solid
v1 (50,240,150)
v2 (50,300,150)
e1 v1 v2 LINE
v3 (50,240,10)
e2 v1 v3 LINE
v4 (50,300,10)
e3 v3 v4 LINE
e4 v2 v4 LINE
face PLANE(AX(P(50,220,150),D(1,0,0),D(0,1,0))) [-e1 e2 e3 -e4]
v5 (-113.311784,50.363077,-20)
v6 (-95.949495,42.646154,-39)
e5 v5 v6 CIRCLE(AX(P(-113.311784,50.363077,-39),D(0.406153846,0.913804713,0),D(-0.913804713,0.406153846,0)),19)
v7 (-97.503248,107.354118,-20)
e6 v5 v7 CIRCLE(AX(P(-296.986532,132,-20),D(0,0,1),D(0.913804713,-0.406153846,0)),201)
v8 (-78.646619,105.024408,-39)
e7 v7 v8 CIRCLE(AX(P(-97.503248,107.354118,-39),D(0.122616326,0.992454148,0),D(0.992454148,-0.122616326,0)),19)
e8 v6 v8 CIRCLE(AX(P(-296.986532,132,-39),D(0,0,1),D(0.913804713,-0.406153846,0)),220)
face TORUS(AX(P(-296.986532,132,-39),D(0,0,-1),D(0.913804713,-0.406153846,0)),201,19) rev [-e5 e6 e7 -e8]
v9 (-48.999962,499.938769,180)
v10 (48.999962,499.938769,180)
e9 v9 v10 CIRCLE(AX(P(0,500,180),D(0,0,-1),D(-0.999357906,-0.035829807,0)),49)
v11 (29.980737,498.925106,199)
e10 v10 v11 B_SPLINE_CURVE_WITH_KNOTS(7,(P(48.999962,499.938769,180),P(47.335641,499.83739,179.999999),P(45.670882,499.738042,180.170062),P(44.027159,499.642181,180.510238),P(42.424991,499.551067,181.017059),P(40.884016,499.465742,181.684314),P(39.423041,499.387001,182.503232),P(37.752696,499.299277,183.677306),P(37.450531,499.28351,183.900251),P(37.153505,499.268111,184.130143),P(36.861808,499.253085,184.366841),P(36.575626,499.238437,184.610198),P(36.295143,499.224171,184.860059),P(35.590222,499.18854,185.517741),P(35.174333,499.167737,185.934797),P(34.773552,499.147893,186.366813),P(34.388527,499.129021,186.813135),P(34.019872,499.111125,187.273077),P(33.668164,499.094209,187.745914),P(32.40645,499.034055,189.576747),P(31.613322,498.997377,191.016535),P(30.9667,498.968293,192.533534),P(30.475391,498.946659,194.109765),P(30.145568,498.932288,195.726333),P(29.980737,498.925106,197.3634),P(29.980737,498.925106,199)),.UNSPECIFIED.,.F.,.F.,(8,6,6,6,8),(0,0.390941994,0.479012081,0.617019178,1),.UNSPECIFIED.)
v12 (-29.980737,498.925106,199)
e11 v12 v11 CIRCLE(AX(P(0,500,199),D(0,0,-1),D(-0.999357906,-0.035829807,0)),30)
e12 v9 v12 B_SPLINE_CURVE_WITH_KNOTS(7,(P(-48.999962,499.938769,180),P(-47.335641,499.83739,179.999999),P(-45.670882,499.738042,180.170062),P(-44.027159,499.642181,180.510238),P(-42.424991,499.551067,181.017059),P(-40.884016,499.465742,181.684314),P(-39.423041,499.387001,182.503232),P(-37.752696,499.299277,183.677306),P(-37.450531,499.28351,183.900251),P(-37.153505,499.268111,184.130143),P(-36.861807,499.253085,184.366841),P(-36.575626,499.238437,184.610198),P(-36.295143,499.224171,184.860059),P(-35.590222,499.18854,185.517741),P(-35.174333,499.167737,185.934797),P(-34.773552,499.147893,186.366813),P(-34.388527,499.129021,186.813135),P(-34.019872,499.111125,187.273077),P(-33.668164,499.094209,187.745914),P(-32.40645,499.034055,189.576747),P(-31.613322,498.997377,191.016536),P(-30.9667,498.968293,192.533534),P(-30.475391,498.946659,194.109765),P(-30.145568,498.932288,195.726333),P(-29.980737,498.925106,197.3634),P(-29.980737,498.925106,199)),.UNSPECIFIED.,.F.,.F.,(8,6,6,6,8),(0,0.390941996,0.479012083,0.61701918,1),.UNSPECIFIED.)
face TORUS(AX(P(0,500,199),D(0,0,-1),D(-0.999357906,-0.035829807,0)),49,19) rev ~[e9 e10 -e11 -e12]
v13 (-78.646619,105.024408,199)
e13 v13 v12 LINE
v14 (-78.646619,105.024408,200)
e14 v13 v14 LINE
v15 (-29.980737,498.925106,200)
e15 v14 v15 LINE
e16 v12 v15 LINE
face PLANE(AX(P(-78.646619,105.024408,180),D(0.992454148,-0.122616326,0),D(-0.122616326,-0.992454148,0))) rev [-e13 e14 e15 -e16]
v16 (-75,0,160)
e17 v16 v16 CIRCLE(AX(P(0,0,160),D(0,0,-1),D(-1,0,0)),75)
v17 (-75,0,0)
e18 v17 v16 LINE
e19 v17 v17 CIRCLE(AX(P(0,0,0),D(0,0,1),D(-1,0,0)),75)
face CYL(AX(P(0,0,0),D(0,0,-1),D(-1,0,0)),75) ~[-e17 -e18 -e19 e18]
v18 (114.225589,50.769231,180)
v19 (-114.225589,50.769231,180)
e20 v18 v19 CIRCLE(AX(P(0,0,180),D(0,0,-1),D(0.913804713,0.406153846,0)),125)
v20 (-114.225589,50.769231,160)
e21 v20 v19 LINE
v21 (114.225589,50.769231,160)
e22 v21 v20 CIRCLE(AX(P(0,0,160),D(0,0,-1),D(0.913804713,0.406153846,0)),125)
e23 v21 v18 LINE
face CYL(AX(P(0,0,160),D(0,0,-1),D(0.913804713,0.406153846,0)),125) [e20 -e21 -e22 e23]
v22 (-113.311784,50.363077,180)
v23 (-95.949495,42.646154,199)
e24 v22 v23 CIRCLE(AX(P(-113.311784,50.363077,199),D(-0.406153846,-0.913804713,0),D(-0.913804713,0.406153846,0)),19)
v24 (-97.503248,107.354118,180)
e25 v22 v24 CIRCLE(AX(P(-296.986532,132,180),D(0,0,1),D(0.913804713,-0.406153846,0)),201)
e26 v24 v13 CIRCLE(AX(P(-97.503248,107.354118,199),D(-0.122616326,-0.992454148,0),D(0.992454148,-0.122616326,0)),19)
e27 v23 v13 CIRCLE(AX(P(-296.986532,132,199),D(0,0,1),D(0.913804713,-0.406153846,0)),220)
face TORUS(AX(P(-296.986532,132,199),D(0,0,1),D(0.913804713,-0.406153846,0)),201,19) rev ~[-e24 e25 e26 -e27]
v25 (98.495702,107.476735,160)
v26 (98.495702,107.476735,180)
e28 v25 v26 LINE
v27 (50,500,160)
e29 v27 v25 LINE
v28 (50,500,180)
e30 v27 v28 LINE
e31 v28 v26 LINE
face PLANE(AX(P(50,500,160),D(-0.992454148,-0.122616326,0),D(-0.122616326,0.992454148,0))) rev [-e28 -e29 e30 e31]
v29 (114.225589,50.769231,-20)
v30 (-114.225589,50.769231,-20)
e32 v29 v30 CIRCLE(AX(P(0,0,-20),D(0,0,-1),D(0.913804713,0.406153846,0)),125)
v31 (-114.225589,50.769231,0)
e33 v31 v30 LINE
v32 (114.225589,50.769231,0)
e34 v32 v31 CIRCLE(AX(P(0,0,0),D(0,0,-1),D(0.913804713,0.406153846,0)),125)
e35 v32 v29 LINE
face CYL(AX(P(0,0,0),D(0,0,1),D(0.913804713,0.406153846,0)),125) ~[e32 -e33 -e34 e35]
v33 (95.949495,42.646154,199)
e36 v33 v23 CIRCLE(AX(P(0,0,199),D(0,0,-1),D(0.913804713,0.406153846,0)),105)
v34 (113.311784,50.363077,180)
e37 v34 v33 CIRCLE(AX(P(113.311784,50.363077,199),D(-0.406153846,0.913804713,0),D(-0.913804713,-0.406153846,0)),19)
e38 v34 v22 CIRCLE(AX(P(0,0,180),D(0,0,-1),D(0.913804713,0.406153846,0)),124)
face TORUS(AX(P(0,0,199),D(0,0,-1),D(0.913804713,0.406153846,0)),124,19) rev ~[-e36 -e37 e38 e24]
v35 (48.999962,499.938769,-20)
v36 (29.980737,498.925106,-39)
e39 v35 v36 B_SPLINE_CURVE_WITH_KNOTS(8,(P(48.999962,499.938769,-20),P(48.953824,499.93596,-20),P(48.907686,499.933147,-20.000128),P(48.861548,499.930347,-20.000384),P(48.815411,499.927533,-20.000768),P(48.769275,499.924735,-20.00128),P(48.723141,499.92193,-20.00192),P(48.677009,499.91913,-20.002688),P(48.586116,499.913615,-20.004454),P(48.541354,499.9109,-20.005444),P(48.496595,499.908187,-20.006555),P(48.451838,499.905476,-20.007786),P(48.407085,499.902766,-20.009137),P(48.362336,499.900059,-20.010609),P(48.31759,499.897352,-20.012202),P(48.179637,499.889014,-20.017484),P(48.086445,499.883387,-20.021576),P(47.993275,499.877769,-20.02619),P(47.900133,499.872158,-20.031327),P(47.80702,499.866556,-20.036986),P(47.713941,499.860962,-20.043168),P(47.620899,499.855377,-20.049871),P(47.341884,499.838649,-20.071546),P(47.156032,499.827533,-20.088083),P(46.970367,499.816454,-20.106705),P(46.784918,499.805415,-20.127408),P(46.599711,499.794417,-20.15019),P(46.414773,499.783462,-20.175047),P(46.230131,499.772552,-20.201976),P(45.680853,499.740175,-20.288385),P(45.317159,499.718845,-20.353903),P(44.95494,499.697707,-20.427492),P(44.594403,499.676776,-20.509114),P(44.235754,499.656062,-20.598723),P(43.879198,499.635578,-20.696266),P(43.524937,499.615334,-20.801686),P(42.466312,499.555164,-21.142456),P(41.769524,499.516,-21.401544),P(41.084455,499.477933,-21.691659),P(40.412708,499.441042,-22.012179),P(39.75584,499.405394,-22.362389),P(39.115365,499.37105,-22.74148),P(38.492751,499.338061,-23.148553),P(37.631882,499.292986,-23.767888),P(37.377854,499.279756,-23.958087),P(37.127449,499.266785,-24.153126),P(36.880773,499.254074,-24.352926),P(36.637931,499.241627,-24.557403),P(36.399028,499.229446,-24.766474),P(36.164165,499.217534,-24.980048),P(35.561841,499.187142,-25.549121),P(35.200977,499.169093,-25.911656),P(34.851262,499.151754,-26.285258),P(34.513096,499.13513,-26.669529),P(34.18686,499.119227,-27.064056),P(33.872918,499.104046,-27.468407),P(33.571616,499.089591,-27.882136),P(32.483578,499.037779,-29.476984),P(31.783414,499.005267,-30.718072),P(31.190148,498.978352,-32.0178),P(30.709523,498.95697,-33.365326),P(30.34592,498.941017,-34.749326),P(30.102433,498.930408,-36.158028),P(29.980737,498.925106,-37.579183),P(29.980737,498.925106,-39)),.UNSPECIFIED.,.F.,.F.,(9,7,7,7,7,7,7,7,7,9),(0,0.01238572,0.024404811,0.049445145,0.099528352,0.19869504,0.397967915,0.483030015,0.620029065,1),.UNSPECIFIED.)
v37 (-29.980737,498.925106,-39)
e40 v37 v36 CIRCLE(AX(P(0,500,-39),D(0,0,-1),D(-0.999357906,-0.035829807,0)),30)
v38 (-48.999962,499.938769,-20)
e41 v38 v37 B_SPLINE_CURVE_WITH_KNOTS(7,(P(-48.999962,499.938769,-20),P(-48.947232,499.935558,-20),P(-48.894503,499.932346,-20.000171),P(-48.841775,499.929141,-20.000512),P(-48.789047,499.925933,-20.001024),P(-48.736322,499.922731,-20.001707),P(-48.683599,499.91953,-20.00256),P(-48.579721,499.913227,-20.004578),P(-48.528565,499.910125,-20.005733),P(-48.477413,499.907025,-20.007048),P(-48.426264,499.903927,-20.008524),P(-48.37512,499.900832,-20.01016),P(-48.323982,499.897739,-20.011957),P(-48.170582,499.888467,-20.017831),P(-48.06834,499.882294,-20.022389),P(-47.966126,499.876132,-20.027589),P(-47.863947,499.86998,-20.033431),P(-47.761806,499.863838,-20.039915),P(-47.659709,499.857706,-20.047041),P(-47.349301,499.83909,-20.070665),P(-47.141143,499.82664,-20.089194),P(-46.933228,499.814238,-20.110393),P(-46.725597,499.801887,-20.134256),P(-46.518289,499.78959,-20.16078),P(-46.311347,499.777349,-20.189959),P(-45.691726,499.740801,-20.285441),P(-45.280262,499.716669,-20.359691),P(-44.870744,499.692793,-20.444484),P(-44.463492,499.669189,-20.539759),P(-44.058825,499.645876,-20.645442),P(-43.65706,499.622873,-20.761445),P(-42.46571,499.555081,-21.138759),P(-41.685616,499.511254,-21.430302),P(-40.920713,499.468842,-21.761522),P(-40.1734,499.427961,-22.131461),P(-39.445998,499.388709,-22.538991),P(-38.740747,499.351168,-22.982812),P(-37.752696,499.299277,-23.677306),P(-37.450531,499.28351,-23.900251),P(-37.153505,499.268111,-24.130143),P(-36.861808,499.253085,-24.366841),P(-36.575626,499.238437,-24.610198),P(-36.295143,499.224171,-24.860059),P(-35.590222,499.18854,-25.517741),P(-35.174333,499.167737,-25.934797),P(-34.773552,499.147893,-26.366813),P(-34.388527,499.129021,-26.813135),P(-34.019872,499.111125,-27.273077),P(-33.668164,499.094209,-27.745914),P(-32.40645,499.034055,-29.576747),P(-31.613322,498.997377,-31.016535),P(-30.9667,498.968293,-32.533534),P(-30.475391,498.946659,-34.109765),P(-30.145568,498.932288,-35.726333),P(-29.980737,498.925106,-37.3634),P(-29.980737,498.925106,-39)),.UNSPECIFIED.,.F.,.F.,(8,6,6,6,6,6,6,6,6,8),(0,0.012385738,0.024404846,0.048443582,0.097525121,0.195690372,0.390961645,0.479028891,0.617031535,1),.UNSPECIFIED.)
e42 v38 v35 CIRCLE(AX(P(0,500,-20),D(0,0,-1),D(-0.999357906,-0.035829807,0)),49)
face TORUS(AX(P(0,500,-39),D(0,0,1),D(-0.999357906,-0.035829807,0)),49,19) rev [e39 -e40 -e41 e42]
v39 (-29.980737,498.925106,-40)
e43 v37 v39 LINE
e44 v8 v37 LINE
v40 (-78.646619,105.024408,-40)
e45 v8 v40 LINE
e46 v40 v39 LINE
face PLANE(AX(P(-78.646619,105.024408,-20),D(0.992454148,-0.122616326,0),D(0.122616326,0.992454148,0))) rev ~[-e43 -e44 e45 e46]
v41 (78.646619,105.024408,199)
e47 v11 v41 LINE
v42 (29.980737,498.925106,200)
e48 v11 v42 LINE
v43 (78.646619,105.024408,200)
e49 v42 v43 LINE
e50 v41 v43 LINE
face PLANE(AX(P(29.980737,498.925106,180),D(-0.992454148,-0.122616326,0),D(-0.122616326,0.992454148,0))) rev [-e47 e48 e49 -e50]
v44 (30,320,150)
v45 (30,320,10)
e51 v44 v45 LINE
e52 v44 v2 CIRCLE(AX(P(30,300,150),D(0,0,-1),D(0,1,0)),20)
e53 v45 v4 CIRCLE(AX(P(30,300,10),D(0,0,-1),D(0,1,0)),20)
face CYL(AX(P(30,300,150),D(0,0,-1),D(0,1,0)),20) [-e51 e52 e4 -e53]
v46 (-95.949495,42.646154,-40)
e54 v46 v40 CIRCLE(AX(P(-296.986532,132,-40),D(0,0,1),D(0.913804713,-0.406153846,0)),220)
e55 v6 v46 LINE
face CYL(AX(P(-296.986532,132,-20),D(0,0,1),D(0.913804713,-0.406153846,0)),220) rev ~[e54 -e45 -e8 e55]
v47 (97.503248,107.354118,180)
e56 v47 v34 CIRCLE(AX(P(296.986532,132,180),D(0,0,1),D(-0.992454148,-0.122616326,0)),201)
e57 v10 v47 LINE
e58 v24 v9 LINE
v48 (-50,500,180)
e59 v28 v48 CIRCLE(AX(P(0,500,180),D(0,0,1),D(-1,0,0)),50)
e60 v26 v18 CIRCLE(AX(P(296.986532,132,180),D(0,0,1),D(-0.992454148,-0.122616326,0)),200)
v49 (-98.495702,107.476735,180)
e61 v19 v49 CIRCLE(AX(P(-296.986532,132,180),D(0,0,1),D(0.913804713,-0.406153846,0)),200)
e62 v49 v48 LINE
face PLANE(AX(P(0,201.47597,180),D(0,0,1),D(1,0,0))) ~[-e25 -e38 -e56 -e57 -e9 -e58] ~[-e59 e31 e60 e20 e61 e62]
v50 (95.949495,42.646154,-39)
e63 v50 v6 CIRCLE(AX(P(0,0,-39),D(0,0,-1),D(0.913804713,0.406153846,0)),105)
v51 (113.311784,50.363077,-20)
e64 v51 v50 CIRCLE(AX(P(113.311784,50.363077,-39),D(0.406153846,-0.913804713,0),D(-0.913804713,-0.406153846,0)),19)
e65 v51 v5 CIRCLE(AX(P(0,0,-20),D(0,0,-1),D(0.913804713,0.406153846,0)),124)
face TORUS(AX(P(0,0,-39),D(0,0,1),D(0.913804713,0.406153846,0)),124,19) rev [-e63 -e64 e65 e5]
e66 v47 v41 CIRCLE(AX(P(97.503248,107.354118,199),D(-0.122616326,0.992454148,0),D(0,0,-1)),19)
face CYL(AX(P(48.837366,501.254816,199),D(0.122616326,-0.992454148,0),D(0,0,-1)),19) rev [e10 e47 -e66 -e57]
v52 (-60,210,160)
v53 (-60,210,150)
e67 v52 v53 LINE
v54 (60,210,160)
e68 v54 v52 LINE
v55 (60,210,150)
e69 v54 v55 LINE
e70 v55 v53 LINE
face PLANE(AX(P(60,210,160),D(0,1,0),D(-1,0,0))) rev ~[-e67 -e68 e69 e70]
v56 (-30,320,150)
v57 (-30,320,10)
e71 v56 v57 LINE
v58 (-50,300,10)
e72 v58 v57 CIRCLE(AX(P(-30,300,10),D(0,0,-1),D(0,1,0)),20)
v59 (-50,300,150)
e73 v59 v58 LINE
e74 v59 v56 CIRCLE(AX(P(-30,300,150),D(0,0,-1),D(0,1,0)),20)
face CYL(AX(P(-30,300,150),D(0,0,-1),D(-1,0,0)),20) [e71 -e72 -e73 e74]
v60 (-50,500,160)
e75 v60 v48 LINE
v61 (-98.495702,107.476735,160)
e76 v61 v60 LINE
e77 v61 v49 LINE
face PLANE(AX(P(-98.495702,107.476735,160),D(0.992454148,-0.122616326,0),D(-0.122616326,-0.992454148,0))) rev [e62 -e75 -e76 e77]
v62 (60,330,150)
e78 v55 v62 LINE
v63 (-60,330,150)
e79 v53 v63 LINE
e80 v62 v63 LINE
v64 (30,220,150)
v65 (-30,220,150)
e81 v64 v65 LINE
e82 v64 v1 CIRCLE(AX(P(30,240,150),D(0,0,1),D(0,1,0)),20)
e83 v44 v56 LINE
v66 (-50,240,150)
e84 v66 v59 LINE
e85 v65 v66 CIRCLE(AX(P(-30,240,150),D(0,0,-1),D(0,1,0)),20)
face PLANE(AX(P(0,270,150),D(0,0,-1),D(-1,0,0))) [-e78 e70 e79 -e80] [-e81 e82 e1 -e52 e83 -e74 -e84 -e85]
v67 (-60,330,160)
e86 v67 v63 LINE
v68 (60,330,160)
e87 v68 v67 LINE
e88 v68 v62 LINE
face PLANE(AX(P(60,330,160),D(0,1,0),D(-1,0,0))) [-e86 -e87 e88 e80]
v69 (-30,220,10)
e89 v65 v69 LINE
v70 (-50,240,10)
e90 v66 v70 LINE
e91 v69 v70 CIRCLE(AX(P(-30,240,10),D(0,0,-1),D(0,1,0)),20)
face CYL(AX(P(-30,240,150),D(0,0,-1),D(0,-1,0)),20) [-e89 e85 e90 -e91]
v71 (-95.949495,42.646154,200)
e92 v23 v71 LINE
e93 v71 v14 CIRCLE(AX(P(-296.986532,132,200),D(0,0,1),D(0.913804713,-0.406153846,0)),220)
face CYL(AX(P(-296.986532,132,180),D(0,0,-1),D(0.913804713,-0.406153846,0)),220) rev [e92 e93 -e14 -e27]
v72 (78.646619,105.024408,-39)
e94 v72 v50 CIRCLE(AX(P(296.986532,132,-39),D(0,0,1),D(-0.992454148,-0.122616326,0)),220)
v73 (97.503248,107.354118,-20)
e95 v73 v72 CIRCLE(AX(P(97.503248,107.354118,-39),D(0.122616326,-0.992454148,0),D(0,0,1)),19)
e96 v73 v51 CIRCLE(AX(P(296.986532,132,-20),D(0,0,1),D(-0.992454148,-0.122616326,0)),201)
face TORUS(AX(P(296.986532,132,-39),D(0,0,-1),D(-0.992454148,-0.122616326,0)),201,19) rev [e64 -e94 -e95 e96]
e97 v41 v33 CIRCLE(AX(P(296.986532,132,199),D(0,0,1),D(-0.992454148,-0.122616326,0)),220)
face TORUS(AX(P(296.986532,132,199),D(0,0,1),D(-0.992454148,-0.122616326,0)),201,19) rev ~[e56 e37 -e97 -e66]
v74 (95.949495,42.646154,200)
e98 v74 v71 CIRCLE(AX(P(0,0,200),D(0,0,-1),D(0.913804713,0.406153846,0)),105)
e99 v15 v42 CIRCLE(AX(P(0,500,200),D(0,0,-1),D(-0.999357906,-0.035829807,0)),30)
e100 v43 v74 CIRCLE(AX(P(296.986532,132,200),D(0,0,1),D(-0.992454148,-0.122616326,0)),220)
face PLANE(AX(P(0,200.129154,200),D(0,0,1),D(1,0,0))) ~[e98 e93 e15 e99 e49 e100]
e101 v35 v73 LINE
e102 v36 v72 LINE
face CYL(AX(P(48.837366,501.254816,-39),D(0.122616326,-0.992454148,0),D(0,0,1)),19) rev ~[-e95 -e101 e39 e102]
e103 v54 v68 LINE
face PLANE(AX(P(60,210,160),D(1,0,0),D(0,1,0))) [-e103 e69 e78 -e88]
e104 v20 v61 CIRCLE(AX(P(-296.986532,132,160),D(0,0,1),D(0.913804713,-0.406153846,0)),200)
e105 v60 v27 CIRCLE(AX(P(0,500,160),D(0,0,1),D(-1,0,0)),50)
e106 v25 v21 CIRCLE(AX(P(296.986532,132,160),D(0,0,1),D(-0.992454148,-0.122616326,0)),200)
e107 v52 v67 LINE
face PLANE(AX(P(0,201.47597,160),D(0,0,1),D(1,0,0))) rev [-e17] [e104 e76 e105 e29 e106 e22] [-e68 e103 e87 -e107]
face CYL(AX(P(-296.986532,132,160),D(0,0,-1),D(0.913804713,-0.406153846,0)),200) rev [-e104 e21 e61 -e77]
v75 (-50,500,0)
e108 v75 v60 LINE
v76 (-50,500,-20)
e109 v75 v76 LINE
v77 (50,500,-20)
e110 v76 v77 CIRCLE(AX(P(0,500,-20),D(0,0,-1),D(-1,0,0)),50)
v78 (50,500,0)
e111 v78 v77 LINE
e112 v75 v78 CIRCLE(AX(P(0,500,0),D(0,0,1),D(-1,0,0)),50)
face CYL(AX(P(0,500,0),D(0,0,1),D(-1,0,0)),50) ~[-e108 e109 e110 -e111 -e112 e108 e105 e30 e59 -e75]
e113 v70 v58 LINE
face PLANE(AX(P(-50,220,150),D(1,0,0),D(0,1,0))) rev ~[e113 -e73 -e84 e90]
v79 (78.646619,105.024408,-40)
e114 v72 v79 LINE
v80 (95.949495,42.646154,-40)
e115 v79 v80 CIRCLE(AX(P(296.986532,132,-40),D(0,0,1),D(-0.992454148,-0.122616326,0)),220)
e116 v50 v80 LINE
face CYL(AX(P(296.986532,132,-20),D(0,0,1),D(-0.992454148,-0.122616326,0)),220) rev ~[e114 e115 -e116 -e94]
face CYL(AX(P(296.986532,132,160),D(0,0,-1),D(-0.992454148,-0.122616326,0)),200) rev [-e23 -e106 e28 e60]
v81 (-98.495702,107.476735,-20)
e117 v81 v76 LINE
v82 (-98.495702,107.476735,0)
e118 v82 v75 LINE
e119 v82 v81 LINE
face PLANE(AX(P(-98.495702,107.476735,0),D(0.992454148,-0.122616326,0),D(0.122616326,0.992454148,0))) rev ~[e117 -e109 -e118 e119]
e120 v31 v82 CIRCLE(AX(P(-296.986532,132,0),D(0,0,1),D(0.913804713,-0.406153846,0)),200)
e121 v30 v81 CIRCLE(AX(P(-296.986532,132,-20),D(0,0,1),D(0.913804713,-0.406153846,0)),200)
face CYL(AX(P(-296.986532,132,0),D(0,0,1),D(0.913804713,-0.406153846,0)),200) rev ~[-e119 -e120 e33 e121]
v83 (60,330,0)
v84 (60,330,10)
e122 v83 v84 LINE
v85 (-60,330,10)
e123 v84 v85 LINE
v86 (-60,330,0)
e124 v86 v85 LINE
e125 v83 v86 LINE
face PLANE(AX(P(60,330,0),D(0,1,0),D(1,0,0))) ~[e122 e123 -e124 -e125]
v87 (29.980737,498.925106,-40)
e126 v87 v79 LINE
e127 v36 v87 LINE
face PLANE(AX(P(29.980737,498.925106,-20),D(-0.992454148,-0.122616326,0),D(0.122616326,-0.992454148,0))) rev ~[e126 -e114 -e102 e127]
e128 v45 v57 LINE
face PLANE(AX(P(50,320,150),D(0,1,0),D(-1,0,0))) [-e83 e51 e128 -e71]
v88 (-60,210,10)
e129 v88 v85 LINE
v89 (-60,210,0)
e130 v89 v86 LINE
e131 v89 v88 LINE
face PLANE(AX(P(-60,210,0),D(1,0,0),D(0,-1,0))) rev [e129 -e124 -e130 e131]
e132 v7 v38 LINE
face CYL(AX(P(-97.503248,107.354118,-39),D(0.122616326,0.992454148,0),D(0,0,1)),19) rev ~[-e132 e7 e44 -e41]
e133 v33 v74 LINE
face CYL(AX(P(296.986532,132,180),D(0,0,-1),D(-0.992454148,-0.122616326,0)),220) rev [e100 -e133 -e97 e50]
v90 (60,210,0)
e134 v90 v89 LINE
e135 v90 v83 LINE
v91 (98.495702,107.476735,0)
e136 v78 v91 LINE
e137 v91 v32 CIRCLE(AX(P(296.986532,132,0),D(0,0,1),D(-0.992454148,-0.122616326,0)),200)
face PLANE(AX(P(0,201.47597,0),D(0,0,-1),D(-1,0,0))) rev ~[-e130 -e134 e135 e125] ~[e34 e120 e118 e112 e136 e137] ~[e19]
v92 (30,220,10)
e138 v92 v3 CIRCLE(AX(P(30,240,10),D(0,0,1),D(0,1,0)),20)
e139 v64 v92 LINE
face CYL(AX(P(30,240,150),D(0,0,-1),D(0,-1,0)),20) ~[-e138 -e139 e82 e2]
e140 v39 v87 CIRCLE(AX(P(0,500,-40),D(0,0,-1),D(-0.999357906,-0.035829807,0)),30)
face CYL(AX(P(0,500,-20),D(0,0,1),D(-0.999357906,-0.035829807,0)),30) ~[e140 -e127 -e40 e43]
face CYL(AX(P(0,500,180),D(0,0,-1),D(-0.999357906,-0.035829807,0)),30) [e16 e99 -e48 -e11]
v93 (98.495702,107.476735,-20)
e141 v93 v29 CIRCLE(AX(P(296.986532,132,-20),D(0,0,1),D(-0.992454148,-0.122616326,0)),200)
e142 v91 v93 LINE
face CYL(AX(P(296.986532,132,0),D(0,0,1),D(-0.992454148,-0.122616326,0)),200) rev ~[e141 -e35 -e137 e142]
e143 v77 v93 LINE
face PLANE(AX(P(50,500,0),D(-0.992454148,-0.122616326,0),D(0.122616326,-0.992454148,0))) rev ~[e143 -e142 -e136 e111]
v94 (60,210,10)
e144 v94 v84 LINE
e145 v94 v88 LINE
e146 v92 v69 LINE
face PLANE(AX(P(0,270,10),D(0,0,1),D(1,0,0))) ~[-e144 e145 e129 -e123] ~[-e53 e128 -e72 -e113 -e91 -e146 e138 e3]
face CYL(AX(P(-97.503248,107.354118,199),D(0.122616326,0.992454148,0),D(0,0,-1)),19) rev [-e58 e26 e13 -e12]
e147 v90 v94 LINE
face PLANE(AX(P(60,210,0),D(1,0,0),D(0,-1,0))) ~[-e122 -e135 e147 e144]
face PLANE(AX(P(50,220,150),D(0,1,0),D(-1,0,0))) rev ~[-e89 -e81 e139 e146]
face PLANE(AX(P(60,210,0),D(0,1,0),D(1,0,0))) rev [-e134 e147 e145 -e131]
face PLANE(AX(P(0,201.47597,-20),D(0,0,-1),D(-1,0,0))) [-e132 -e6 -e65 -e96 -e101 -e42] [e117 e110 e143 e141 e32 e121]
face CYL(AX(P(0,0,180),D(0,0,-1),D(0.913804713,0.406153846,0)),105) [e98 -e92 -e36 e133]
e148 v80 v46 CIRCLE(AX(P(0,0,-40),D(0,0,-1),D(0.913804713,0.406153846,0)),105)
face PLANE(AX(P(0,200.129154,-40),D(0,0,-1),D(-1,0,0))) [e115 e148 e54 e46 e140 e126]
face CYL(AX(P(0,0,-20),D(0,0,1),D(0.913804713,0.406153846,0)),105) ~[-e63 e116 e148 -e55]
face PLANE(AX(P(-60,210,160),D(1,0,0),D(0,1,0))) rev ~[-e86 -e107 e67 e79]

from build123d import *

# Parameters (mm, degrees)
IZIM1_R                       = 75
Y_KSEKLIK_EKSTR_ZYON1_DEPTH   = 180
IZIM1_R_2                     = 50
Y_KSEKLIK_EKSTR_ZYON1_2_DEPTH = 180
Y_KSEKLIK_EKSTR_ZYON2_DEPTH   = 20
Y_KSEKLIK_EKSTR_ZYON3_DEPTH   = 20
RADYUS1_R                     = 19
RADYUS1_OF_AYNALAMA1_R        = 19
IZIM4_W                       = 120
IZIM4_H                       = 120
Y_KSEKLIK_EKSTR_ZYON4_DEPTH   = 10
Y_KSEKLIK_EKSTR_ZYON5_REACH   = 597.168
IZIM6_W                       = 100
IZIM6_H                       = 100
RADYUS2_R                     = 20


with BuildPart() as part:
    # Çizim1 → Yükseklik-Ekstrüzyon1 (new body)
    with BuildSketch(Plane.XY):
        with Locations(Location((0, 0, 0), (0, 0, 180))):
            Circle(IZIM1_R)
    extrude(amount=Y_KSEKLIK_EKSTR_ZYON1_DEPTH)



with BuildPart() as body_2:
    # Çizim1 → Y_kseklik-Ekstr_zyon1 2 (new body)
    with BuildSketch(Plane.XY):
        with Locations(Location((0, 500, 0), (0, 0, 180))):
            Circle(IZIM1_R_2)
    extrude(amount=Y_KSEKLIK_EKSTR_ZYON1_2_DEPTH)


with BuildPart() as part_1:
    add(part.part)

    add(body_2.part)  # Yükseklik-Ekstrüzyon2 merges body 2
    # Çizim2 → Yükseklik-Ekstrüzyon2 (add)
    with BuildSketch(Plane.XY):
        with BuildLine():
            Line((50, 500), (98.495702008, 107.476734806))
            ThreePointArc((98.495702008, 107.476734806), (104.263508371, 78.541265575), (114.225589108, 50.769230769))
            ThreePointArc((114.225589108, 50.769230769), (0, -125), (-114.225589108, 50.769230769))
            ThreePointArc((-114.225589108, 50.769230769), (-104.263508371, 78.541265575), (-98.495702008, 107.476734806))
            Line((-98.495702008, 107.476734806), (-50, 500))
            ThreePointArc((-50, 500), (0, 550), (50, 500))
        make_face()
    y_kseklik_ekstr_zyon2 = extrude(amount=-Y_KSEKLIK_EKSTR_ZYON2_DEPTH)

    # Çizim3 → Yükseklik-Ekstrüzyon3 (add)
    with BuildSketch(Plane(origin=(0, 0, -20), x_dir=(-1, 0, 0), z_dir=(0, 0, -1))):
        with BuildLine():
            Line((-29.98073719, 498.925105803), (-78.646619041, 105.024408287))
            ThreePointArc((-78.646619041, 105.024408287), (-84.99120604, 73.195392132), (-95.949494851, 42.646153846))
            ThreePointArc((-95.949494851, 42.646153846), (0, -105), (95.949494851, 42.646153846))
            ThreePointArc((95.949494851, 42.646153846), (84.99120604, 73.195392132), (78.646619041, 105.024408287))
            Line((78.646619041, 105.024408287), (29.98073719, 498.925105803))
            ThreePointArc((29.98073719, 498.925105803), (0, 530), (-29.98073719, 498.925105803))
        make_face()
    y_kseklik_ekstr_zyon3 = extrude(amount=Y_KSEKLIK_EKSTR_ZYON3_DEPTH)

    # Radyus1
    radyus1_edges = [part_1.edges().sort_by_distance(p)[0] for p in [
        (0, 530, -20),
        (54.313678116, 301.974757045, -20),
        (84.99120604, 73.195392132, -20),
        (0, -105, -20),
        (-84.99120604, 73.195392132, -20),
        (-54.313678116, 301.974757045, -20),
    ]]
    fillet(radyus1_edges, radius=RADYUS1_R)

    # Aynalama1: Yükseklik-Ekstrüzyon2, Yükseklik-Ekstrüzyon3 across plane
    add(y_kseklik_ekstr_zyon2.mirror(Plane.XY.offset(80)))
    add(y_kseklik_ekstr_zyon3.mirror(Plane.XY.offset(80)))

    # Radyus1 of Aynalama1
    radyus1_of_aynalama1_edges = [part_1.edges().sort_by_distance(p)[0] for p in [
        (0, 530, 180),
        (54.313678116, 301.974757045, 180),
        (84.99120604, 73.195392132, 180),
        (0, -105, 180),
        (-84.99120604, 73.195392132, 180),
        (-54.313678116, 301.974757045, 180),
    ]]
    fillet(radyus1_of_aynalama1_edges, radius=RADYUS1_OF_AYNALAMA1_R)

    # Çizim4 → Yükseklik-Ekstrüzyon4 (add)
    with BuildSketch(Plane(origin=(0, 0, 160), x_dir=(-1, 0, 0), z_dir=(0, 0, -1))):
        with Locations((0, 270)):
            Rectangle(IZIM4_W, IZIM4_H)
    y_kseklik_ekstr_zyon4 = extrude(amount=Y_KSEKLIK_EKSTR_ZYON4_DEPTH)

    # Aynalama2: Yükseklik-Ekstrüzyon4 across plane
    add(y_kseklik_ekstr_zyon4.mirror(Plane.XY.offset(80)))

    # Çizim6 → Yükseklik-Ekstrüzyon5 (add, up to next)
    with BuildSketch(Plane(origin=(0, 0, 150), x_dir=(-1, 0, 0), z_dir=(0, 0, -1)), mode=Mode.PRIVATE) as y_kseklik_ekstr_zyon5_sk1:
        with Locations((0, 270)):
            Rectangle(IZIM6_W, IZIM6_H)
    y_kseklik_ekstr_zyon5_tool1 = extrude(y_kseklik_ekstr_zyon5_sk1.sketch, amount=Y_KSEKLIK_EKSTR_ZYON5_REACH, mode=Mode.PRIVATE) - part_1.part
    add(y_kseklik_ekstr_zyon5_tool1.solids().sort_by_distance((0, 270, 150))[0])

    # Radyus2
    radyus2_edges = [part_1.edges().sort_by_distance(p)[0] for p in [
        (50, 320, 80),
        (-50, 320, 80),
        (50, 220, 80),
        (-50, 220, 80),
    ]]
    fillet(radyus2_edges, radius=RADYUS2_R)


solid = part_1.part
